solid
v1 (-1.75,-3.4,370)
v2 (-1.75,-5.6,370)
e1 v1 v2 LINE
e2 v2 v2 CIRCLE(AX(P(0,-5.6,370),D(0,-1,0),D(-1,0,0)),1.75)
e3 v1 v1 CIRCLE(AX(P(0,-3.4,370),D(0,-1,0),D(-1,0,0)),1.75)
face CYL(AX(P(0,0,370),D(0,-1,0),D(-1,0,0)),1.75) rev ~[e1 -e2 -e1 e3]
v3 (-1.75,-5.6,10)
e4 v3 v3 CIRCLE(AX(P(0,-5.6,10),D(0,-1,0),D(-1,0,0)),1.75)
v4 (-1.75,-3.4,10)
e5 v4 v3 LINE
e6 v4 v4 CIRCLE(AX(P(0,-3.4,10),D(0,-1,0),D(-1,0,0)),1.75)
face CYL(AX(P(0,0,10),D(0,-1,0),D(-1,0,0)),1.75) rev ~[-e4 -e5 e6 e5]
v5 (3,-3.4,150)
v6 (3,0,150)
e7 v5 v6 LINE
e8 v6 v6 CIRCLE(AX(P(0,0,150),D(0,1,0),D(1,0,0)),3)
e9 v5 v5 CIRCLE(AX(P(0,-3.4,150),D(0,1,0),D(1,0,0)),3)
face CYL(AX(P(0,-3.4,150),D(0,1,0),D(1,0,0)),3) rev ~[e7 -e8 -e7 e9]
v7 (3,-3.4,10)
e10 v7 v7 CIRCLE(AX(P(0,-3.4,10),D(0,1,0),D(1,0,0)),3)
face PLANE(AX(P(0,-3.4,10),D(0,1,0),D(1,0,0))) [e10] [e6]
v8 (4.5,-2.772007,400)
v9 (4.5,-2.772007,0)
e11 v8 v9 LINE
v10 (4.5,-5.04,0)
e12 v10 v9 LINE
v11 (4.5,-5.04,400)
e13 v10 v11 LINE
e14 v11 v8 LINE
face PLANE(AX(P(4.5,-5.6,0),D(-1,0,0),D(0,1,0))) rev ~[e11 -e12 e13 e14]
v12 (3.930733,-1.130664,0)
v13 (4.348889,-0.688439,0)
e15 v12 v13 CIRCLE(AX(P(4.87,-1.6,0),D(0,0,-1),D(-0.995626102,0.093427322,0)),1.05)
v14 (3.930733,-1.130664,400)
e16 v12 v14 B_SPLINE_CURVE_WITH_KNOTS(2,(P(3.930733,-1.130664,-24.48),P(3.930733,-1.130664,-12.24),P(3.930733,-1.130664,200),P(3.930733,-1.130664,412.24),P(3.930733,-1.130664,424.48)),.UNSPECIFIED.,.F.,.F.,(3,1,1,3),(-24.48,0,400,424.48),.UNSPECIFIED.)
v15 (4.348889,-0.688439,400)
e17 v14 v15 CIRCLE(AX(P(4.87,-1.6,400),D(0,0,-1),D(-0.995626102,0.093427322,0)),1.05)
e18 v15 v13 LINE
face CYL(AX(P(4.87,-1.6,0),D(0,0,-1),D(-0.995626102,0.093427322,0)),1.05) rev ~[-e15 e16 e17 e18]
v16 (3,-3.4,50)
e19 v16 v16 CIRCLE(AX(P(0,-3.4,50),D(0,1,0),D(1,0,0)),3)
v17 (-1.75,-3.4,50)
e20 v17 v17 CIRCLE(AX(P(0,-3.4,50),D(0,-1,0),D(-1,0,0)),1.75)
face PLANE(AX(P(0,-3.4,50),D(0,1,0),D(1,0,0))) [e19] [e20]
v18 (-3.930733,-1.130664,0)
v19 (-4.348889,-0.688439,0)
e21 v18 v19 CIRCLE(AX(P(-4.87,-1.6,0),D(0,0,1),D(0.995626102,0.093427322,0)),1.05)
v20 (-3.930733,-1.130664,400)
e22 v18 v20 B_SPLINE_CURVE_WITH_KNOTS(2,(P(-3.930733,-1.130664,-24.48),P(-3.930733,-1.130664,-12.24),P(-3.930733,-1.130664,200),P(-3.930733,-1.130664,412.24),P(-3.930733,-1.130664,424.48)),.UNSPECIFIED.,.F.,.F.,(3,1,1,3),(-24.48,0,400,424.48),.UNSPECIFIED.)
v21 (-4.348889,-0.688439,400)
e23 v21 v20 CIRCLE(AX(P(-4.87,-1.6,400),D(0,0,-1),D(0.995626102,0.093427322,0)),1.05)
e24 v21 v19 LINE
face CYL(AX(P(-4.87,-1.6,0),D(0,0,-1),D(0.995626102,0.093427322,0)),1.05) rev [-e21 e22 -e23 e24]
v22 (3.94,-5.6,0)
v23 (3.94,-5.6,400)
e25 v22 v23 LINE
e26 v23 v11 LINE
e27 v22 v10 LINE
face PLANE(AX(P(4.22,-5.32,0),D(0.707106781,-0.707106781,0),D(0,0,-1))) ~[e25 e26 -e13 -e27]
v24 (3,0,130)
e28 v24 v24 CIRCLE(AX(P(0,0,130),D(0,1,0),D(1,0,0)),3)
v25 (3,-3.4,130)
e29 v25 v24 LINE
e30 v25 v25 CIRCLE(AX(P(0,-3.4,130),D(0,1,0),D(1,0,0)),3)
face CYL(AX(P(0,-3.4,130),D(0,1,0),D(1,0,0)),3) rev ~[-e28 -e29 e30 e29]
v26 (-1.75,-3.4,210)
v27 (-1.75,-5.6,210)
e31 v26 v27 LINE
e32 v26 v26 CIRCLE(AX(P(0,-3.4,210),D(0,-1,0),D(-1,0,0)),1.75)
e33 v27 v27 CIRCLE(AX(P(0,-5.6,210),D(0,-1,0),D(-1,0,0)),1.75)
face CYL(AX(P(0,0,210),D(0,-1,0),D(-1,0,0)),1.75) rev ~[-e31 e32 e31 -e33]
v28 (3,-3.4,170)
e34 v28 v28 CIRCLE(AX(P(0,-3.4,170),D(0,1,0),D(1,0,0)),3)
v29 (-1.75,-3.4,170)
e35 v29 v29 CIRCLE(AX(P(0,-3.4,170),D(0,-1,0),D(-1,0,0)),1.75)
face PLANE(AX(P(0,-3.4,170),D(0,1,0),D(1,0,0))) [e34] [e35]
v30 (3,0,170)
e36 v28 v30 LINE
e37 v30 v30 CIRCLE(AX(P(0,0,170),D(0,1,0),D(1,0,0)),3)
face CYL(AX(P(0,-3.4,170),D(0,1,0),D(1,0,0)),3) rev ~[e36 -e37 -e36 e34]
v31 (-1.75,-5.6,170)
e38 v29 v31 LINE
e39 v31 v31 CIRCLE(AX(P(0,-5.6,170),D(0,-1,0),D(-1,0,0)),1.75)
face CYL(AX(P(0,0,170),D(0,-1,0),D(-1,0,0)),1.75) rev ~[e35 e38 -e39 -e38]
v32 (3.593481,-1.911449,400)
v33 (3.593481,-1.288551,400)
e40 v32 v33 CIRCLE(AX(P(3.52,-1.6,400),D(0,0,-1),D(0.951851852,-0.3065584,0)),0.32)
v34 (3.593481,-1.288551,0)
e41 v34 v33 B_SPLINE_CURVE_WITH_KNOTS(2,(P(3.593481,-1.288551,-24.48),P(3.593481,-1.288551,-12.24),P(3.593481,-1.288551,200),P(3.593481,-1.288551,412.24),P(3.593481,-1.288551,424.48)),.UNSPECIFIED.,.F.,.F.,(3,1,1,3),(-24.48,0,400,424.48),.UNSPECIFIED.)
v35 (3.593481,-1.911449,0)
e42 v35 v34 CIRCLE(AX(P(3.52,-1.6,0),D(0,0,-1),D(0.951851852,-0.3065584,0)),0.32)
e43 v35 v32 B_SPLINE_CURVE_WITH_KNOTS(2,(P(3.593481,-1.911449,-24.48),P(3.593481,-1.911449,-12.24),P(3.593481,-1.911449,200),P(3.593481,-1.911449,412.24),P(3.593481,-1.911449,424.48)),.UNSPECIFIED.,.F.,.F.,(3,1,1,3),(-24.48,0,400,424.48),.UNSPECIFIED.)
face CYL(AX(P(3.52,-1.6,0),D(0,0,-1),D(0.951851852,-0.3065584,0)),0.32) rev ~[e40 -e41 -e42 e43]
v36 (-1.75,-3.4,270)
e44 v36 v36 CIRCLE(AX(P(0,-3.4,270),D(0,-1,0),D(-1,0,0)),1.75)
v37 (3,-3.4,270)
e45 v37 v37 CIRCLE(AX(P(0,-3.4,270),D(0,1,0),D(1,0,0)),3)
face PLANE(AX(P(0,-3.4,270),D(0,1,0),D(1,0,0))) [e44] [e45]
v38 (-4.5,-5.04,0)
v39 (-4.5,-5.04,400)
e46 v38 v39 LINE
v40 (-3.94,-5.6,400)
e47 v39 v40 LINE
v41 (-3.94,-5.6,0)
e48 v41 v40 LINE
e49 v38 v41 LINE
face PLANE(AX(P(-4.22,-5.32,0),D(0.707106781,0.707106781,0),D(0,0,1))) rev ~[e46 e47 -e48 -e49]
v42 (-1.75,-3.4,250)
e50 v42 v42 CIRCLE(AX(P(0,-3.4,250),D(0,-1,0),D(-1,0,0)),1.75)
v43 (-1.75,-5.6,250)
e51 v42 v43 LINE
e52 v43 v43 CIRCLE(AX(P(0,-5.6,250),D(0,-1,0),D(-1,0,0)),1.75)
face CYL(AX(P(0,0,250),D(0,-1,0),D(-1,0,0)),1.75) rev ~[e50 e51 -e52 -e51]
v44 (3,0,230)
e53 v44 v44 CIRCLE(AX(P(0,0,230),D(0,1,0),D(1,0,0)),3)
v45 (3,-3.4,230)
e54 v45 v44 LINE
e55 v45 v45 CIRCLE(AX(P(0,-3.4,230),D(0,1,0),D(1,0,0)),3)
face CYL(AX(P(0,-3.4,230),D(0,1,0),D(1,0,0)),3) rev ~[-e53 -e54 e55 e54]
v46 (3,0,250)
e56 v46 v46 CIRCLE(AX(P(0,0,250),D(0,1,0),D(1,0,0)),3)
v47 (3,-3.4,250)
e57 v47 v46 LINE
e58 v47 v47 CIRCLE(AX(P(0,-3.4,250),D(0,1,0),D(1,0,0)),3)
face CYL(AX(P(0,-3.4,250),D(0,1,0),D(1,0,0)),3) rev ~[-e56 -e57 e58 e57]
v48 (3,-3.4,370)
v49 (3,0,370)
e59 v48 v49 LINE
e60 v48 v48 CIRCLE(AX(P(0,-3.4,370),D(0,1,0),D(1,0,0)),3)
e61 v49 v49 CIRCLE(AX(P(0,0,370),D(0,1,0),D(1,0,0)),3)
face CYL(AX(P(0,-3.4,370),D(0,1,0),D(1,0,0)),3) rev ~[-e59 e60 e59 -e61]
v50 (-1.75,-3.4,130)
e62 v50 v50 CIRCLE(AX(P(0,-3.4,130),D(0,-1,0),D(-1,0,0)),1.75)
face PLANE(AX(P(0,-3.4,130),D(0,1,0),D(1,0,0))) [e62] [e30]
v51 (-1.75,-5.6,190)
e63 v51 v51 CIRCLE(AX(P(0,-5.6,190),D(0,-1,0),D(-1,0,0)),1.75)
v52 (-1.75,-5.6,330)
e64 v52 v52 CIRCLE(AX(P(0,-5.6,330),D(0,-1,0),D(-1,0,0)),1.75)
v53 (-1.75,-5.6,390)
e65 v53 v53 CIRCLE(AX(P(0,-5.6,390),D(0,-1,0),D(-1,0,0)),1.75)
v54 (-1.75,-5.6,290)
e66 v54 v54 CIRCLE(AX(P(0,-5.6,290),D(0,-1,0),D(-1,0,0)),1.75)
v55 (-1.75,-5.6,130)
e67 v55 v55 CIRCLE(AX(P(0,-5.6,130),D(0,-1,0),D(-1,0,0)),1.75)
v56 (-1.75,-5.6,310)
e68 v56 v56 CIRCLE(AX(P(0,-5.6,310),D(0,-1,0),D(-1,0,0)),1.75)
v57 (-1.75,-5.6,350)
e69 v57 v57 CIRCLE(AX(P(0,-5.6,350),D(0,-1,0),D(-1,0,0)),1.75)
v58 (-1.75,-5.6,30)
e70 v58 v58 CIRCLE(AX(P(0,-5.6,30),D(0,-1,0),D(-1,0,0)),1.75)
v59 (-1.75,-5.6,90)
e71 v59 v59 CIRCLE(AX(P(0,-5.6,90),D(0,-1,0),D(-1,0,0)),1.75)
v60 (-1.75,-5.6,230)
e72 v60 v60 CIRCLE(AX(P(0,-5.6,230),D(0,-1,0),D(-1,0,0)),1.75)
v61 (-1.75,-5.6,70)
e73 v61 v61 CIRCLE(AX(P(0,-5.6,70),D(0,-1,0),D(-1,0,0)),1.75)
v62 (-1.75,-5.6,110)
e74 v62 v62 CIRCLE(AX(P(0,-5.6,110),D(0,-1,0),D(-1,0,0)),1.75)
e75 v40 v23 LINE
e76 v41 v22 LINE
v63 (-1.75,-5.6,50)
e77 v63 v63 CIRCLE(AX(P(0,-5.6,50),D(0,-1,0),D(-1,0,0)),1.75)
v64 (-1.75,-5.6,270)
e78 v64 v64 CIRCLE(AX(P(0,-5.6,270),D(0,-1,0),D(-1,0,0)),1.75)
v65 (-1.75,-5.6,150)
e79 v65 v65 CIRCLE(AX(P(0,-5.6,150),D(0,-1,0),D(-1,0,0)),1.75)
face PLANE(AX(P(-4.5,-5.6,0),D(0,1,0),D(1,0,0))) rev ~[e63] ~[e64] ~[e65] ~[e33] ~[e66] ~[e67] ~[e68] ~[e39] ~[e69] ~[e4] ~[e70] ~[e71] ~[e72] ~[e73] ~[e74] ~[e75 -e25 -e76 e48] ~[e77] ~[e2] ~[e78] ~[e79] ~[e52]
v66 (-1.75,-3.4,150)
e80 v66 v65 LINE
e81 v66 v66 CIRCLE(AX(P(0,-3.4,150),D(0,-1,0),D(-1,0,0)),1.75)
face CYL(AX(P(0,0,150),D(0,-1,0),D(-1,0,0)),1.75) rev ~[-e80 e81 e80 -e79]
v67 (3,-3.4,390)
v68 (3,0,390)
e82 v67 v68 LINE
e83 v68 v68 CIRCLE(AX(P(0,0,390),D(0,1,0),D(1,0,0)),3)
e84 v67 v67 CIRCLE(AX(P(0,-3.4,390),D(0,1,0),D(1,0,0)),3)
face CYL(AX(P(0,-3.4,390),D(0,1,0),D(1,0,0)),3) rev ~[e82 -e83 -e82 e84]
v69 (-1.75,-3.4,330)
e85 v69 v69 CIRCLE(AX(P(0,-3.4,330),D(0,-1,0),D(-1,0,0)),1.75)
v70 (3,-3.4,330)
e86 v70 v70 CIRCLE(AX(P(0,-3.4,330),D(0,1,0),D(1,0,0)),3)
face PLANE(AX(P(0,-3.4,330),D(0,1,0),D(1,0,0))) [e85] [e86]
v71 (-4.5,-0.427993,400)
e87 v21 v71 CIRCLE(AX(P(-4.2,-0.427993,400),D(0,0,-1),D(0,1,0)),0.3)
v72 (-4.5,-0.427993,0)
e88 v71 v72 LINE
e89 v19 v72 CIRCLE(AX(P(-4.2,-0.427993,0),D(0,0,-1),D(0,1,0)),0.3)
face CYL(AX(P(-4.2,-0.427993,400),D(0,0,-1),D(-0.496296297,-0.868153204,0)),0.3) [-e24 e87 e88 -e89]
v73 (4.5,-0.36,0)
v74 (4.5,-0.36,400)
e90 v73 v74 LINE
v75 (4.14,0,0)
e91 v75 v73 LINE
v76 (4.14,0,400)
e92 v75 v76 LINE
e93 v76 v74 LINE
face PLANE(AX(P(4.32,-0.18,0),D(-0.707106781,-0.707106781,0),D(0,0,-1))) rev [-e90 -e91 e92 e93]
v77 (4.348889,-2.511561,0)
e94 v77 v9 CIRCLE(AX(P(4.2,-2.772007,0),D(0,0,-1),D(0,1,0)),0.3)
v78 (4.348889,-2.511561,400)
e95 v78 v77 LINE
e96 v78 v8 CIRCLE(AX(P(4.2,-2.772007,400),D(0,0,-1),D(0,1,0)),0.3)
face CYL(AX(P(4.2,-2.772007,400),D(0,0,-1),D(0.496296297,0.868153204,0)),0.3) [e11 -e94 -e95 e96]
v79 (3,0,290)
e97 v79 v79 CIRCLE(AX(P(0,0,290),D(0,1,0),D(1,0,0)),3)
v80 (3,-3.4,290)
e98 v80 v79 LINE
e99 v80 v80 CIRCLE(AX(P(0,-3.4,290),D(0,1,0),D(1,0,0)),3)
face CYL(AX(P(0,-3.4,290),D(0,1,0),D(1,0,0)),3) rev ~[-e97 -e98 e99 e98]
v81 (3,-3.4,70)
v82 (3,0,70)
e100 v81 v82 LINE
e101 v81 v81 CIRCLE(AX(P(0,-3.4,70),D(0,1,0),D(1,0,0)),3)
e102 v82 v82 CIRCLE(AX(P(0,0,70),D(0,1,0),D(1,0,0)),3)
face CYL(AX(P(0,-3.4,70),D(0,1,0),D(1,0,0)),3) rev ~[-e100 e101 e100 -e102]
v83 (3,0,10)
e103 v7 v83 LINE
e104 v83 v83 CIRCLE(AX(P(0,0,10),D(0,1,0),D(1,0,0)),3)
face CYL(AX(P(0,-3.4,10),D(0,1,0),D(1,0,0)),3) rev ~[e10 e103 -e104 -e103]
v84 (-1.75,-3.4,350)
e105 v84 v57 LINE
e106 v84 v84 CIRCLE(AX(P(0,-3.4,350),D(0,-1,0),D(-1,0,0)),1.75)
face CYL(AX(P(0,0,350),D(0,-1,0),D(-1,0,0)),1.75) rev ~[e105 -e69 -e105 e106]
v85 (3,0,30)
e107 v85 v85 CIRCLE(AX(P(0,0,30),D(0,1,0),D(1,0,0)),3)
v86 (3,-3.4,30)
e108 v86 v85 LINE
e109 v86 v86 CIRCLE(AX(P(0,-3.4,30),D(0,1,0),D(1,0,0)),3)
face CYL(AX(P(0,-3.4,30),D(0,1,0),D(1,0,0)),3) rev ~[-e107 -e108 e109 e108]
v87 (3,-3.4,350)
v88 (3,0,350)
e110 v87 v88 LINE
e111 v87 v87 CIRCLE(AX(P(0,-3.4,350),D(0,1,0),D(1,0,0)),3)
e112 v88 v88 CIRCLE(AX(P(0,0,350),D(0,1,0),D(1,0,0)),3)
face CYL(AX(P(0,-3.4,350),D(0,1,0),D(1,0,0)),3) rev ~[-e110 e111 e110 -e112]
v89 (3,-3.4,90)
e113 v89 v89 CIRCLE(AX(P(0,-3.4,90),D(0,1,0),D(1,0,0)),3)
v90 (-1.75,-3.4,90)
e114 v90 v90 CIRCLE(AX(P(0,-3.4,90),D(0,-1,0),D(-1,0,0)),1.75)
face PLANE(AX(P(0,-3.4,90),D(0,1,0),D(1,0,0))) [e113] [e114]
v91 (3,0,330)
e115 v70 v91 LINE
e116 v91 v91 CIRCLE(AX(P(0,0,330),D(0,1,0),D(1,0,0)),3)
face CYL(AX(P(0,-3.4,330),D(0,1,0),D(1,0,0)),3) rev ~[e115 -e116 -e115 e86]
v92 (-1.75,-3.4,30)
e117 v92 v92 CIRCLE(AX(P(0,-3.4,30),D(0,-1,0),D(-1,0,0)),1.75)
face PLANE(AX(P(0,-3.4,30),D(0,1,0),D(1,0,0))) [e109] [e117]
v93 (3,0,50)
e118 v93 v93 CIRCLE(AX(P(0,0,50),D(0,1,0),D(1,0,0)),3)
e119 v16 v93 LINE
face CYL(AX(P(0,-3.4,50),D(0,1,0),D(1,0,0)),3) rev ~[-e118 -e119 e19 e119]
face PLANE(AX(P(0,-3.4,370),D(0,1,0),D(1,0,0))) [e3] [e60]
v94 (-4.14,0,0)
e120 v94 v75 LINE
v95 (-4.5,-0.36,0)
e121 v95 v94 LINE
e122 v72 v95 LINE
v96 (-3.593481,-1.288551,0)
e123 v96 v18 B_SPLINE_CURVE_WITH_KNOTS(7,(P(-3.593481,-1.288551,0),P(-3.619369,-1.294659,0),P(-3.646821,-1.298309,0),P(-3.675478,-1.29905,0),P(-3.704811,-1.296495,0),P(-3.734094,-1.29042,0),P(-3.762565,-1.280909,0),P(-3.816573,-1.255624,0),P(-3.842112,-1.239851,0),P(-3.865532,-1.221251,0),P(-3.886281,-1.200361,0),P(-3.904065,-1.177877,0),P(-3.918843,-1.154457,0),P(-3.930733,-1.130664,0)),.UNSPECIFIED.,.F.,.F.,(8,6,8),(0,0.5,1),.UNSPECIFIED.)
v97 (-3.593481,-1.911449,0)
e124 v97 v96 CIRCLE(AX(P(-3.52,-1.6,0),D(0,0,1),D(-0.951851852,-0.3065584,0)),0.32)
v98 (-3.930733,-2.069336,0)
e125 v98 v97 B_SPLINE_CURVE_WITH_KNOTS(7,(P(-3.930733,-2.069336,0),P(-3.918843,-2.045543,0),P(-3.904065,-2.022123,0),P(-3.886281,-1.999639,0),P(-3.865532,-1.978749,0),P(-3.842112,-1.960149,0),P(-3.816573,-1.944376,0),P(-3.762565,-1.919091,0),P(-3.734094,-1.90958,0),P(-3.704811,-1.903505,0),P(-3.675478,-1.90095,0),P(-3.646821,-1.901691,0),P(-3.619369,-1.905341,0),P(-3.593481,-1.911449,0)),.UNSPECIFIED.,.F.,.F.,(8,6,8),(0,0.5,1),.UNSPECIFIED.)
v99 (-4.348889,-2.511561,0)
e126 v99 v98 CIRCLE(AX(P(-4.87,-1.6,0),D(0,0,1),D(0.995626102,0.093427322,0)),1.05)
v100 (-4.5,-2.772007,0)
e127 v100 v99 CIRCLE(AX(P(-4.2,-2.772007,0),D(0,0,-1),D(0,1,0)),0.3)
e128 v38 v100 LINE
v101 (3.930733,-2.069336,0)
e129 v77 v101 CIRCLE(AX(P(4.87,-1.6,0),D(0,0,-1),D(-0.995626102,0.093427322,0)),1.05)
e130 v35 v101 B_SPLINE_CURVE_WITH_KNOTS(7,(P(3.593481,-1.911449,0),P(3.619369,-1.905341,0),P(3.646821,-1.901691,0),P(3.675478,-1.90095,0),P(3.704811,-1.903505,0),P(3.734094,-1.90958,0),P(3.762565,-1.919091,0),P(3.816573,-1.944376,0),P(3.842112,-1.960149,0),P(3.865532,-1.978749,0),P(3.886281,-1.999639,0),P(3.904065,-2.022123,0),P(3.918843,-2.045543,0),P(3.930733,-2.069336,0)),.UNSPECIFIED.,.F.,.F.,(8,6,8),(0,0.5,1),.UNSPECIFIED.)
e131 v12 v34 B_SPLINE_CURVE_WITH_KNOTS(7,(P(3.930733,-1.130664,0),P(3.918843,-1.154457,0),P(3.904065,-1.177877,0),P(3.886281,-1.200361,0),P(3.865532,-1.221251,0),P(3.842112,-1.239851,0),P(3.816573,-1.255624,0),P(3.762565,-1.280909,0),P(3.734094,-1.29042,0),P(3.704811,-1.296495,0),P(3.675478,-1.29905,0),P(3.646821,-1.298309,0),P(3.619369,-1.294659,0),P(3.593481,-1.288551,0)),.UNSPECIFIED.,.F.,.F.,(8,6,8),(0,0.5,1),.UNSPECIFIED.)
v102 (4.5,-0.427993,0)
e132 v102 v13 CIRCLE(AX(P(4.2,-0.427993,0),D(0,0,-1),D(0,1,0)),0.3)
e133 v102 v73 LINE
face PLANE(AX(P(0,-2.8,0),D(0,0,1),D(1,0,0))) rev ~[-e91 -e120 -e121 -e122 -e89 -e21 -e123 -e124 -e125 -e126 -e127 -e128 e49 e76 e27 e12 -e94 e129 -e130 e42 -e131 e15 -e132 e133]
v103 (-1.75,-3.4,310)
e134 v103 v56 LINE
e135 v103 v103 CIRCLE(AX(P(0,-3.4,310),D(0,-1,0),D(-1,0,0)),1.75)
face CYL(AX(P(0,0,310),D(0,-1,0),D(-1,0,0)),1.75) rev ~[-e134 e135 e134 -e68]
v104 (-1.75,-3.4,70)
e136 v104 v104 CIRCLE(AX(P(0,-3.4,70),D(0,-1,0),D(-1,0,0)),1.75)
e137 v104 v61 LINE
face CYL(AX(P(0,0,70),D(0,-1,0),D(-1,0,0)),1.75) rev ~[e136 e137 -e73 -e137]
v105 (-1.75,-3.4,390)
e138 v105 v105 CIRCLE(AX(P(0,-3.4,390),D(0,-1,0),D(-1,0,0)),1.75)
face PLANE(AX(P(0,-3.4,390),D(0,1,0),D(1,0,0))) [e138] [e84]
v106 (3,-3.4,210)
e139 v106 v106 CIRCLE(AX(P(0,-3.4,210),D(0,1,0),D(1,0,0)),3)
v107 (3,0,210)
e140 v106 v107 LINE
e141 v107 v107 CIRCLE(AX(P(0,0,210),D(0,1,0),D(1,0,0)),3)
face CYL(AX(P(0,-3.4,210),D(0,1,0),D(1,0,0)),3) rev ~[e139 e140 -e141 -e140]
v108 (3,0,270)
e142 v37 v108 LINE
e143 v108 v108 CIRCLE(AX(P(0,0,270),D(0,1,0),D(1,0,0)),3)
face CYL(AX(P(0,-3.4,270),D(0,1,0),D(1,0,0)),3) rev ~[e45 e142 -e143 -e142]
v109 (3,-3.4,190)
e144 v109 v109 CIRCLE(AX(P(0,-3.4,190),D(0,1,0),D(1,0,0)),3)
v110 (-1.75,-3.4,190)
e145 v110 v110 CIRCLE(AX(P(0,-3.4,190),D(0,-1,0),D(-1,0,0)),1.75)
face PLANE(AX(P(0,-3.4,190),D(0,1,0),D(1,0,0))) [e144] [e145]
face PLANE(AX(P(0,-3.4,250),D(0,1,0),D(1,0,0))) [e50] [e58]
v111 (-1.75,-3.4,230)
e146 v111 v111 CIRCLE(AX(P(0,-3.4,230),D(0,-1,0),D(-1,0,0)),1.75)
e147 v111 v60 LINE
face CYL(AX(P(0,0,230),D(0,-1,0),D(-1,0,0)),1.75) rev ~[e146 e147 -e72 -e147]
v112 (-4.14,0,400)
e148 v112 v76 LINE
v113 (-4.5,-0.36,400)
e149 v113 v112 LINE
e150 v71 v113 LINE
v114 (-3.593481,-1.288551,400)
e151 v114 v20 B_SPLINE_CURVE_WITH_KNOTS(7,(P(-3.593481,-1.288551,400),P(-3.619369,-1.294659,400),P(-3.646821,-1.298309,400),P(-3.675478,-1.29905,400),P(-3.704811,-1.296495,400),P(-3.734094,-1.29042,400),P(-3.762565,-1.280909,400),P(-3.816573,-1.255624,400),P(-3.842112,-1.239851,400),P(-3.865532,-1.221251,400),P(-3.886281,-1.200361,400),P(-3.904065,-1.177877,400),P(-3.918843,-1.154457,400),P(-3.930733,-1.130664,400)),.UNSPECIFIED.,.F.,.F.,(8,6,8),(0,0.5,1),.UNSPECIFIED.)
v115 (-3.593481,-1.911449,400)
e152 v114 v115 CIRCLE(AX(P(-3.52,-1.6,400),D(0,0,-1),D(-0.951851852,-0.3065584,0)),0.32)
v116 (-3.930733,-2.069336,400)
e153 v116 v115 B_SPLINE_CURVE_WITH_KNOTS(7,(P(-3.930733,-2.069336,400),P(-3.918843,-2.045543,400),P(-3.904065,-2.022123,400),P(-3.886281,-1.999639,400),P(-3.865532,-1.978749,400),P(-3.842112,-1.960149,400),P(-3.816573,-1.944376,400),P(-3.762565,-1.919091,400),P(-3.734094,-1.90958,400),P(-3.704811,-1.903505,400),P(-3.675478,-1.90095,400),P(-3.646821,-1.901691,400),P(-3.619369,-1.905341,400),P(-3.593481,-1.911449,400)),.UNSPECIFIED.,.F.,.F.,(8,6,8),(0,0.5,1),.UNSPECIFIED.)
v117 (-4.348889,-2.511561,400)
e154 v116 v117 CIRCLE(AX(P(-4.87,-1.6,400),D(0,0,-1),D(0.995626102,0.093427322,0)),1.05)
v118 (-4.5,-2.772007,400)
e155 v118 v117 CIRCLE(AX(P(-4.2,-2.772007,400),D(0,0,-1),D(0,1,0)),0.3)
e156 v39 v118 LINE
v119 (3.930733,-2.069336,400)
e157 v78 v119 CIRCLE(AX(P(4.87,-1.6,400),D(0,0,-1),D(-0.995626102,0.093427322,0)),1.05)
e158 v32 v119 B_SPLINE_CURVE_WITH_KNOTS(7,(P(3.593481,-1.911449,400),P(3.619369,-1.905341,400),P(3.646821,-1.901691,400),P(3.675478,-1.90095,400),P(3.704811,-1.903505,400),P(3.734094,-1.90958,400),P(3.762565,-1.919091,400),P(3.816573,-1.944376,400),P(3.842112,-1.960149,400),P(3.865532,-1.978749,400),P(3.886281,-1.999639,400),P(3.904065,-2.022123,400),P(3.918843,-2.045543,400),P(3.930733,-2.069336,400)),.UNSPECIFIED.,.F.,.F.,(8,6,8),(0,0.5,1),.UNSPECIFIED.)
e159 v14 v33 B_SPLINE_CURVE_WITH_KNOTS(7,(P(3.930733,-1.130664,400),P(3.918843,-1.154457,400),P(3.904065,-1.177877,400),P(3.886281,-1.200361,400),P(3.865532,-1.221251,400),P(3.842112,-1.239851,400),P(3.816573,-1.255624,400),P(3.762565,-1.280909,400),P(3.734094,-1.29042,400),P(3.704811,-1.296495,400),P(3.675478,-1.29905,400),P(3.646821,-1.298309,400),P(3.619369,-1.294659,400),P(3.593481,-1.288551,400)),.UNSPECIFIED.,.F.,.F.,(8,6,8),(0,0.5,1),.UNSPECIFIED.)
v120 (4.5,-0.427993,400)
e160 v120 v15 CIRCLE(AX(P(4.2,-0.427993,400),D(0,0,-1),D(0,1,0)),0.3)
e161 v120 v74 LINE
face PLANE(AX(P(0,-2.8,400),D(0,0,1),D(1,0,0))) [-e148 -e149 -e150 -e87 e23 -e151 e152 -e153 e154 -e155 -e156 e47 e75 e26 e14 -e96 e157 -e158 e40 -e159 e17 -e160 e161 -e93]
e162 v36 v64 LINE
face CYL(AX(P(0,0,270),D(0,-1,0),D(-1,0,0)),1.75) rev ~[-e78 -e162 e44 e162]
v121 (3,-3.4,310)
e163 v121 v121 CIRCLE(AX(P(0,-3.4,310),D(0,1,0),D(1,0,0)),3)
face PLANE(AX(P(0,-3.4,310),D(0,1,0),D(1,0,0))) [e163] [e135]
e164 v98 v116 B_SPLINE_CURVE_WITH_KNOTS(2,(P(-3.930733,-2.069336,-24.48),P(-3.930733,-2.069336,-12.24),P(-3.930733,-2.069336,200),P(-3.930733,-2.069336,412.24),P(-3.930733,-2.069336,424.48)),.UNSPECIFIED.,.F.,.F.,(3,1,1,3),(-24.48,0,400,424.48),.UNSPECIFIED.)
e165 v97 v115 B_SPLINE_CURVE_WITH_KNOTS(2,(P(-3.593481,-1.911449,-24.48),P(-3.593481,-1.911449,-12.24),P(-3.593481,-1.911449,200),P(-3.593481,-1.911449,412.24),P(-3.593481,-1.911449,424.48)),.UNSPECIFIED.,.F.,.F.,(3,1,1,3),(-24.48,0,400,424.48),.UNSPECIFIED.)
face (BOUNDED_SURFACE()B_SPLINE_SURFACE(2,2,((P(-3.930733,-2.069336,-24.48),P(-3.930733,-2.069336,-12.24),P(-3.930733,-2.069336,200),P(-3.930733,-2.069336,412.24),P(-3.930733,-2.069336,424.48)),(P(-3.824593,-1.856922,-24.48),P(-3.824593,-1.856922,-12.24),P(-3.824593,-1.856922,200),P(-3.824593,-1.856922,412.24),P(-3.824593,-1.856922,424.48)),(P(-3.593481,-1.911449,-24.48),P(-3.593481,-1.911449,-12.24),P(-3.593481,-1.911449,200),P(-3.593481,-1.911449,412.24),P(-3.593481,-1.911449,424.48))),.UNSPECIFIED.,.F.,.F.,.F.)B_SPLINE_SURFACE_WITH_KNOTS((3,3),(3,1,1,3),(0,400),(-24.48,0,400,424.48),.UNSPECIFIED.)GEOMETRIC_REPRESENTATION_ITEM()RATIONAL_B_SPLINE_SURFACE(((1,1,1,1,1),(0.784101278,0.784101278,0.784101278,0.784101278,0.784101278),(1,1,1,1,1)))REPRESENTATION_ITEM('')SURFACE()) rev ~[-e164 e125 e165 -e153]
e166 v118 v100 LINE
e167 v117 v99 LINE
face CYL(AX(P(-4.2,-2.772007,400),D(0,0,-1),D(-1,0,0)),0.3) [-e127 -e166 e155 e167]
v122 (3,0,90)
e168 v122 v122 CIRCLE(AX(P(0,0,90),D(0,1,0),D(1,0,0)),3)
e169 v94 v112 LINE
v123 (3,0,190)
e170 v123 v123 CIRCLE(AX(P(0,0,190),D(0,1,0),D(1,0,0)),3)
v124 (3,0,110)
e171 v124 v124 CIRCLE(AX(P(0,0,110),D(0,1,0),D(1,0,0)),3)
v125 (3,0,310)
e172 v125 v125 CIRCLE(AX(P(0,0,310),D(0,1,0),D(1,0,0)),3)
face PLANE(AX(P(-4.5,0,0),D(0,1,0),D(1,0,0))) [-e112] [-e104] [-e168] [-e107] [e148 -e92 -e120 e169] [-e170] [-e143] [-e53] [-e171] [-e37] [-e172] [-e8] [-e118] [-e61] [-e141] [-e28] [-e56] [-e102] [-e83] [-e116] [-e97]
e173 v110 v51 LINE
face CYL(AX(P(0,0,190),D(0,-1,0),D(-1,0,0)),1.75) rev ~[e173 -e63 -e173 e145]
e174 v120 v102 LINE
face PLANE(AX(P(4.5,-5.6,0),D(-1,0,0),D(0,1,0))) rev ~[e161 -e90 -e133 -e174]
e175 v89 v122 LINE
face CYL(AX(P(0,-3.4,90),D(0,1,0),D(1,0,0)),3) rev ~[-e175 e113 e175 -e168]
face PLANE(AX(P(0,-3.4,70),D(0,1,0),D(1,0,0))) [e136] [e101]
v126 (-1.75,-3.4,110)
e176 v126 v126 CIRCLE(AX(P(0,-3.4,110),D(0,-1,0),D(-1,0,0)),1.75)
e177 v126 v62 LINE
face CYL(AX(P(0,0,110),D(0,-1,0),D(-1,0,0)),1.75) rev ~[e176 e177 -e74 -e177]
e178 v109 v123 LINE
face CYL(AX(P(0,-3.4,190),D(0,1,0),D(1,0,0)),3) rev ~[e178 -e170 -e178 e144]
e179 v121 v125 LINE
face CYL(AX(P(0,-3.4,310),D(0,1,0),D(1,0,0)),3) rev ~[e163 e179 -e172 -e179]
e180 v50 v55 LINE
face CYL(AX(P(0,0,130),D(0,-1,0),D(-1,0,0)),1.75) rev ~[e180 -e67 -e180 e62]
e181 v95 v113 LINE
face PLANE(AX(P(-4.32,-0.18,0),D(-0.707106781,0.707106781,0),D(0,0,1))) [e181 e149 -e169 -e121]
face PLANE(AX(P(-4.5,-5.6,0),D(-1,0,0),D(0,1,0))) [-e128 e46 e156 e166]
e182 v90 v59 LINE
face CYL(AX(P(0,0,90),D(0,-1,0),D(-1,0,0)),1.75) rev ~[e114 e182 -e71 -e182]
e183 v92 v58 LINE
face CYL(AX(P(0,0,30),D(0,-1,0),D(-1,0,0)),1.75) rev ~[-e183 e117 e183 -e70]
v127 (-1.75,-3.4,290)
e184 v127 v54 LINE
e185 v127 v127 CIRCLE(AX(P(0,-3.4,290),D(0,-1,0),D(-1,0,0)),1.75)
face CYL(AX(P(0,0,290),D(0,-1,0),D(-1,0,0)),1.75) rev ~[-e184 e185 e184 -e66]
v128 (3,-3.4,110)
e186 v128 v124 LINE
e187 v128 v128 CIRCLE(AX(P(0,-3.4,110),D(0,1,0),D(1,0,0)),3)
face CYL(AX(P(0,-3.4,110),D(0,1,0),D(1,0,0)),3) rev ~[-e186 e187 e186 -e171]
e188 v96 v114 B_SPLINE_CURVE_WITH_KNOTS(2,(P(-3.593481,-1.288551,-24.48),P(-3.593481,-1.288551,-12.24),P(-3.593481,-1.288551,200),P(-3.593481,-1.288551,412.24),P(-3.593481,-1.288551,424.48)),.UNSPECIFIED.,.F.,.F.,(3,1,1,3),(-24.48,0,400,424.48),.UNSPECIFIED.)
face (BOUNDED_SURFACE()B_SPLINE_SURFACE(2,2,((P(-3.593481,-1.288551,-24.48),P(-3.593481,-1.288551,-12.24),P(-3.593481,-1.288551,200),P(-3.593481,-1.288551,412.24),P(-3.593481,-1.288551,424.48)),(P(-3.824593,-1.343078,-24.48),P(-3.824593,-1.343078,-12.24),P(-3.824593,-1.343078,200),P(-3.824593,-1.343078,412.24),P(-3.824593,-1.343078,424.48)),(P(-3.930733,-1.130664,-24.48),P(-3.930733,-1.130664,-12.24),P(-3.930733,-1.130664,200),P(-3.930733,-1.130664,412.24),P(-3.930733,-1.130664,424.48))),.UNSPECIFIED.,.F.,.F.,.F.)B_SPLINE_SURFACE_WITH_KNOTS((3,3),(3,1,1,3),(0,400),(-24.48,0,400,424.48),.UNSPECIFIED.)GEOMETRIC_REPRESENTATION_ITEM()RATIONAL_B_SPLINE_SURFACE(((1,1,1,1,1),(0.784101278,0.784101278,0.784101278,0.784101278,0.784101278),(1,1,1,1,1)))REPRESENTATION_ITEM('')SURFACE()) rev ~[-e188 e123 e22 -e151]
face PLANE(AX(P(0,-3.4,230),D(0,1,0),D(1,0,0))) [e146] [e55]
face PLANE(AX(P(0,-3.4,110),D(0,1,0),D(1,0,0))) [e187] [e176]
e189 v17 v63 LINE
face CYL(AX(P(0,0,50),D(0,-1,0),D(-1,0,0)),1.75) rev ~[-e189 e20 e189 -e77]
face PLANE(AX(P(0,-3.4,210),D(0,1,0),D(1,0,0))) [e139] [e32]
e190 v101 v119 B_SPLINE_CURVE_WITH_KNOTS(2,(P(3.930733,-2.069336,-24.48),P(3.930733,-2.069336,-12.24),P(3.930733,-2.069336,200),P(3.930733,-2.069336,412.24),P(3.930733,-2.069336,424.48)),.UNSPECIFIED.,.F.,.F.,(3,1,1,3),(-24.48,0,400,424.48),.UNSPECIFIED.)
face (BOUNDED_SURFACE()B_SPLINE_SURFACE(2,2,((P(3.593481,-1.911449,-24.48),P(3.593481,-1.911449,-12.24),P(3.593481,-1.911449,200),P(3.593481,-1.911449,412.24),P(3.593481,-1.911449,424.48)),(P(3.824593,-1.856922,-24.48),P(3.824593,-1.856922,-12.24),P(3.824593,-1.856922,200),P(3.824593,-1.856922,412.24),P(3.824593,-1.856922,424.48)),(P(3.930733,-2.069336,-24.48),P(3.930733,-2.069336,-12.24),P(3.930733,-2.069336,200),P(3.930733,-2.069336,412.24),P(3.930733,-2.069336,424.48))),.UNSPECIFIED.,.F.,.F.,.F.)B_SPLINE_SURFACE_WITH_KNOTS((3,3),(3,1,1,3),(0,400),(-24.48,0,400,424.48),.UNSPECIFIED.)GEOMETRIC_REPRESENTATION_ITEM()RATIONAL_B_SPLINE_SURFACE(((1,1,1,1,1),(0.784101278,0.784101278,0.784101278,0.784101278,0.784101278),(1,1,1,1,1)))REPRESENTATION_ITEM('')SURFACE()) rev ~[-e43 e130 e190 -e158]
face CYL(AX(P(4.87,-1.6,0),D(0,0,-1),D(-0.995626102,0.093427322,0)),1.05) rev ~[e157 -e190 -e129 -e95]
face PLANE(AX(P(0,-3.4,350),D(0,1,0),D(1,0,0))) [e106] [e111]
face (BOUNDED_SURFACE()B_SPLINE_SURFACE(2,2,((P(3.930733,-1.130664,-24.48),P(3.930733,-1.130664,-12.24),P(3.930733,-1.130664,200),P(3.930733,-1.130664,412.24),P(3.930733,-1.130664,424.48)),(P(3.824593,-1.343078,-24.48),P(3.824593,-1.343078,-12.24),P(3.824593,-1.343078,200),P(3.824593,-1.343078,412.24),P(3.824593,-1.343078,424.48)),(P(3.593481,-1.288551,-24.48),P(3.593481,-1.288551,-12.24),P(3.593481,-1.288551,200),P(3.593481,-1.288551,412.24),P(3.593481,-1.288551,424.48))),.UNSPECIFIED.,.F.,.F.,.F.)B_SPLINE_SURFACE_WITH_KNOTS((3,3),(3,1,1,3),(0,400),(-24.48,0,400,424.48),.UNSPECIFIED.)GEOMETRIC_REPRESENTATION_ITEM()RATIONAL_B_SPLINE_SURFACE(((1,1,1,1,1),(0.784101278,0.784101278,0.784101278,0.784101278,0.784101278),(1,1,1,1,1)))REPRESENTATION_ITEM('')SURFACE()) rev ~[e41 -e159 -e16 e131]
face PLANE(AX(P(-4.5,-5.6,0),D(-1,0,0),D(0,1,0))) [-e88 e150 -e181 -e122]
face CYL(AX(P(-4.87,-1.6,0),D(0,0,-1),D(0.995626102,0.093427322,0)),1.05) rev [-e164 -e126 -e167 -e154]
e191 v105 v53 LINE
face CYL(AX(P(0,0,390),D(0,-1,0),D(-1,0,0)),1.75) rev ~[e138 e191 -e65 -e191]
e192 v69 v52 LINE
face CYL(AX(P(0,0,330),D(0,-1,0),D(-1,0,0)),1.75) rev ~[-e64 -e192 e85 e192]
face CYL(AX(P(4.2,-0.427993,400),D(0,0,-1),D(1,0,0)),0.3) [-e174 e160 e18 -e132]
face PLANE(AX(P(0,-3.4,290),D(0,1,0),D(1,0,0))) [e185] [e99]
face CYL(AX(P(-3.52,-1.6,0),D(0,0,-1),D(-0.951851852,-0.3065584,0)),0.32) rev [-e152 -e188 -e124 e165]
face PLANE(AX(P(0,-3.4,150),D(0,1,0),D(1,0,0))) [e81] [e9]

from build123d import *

# Parameters (mm, degrees)
SKETCH4_W                                           = 9
SKETCH4_H                                           = 5.6
BOSS_EXTRUDE1_DEPTH                                 = 400
CUT_EXTRUDE1_DEPTH                                  = 401.064507299
FILLET1_R                                           = 0.3
CHAMFER1_SIZE                                       = 0.36
CHAMFER2_SIZE                                       = 0.56
CBORE_FOR_M3_HEX_SOCKET_HEAD_CAP_SCREW1_D           = 3.5
CBORE_FOR_M3_HEX_SOCKET_HEAD_CAP_SCREW1_CBORE_D     = 6
CBORE_FOR_M3_HEX_SOCKET_HEAD_CAP_SCREW1_CBORE_DEPTH = 3.4
LPATTERN1_COUNT                                     = 20
LPATTERN1_PITCH                                     = 20


with BuildPart() as part:
    # Sketch4 → Boss-Extrude1 (new body)
    with BuildSketch(Plane.XY):
        with Locations((0, -2.8)):
            Rectangle(SKETCH4_W, SKETCH4_H)
    extrude(amount=BOSS_EXTRUDE1_DEPTH)

    # Sketch5 → Cut-Extrude1 (cut, through all)
    with BuildSketch(Plane.XY):
        with BuildLine():
            ThreePointArc((-3.824592593, -1.501901312), (-5.92, -1.6), (-3.824592593, -1.698098688))
            ThreePointArc((-3.824592593, -1.698098688), (-3.2, -1.6), (-3.824592593, -1.501901312))
        make_face()
    cut_extrude1 = extrude(amount=CUT_EXTRUDE1_DEPTH, mode=Mode.SUBTRACT)

    # Mirror3: Cut-Extrude1 across plane
    add(cut_extrude1.mirror(Plane(origin=(0, 0, 0), x_dir=(0, 0, 1), z_dir=(1, 0, 0))), mode=Mode.SUBTRACT)

    # Fillet1
    fillet1_edges = [part.edges().sort_by_distance(p)[0] for p in [
        (-3.824592593, -1.501901312, 200),
        (-3.824592593, -1.698098688, 200),
        (-4.5, -2.58264948, 200),
        (-4.5, -0.61735052, 200),
        (4.5, -0.61735052, 200),
        (4.5, -2.58264948, 200),
        (3.824592593, -1.698098688, 200),
        (3.824592593, -1.501901312, 200),
    ]]
    fillet(fillet1_edges, radius=FILLET1_R)

    # Chamfer1
    chamfer1_edges = [part.edges().sort_by_distance(p)[0] for p in [
        (-4.5, 0, 200),
        (4.5, 0, 200),
    ]]
    chamfer(chamfer1_edges, length=CHAMFER1_SIZE)

    # Chamfer2
    chamfer2_edges = [part.edges().sort_by_distance(p)[0] for p in [
        (4.5, -5.6, 200),
        (-4.5, -5.6, 200),
    ]]
    chamfer(chamfer2_edges, length=CHAMFER2_SIZE)

    # CBORE for M3 Hex Socket Head Cap Screw1 (through all)
    with Locations(Plane(origin=(0, 0, 0), x_dir=(1, 0, 0), z_dir=(0, 1, 0))):
        with Locations((0, -10)):
            cbore_for_m3_hex_socket_head_cap_screw1 = CounterBoreHole(CBORE_FOR_M3_HEX_SOCKET_HEAD_CAP_SCREW1_D / 2, CBORE_FOR_M3_HEX_SOCKET_HEAD_CAP_SCREW1_CBORE_D / 2, CBORE_FOR_M3_HEX_SOCKET_HEAD_CAP_SCREW1_CBORE_DEPTH)

    # LPattern1: CBORE for M3 Hex Socket Head Cap Screw1 ×20
    with Locations(*[(0, 0, i * LPATTERN1_PITCH) for i in range(1, LPATTERN1_COUNT)]):
        add(cbore_for_m3_hex_socket_head_cap_screw1, mode=Mode.SUBTRACT)


solid = part.part
